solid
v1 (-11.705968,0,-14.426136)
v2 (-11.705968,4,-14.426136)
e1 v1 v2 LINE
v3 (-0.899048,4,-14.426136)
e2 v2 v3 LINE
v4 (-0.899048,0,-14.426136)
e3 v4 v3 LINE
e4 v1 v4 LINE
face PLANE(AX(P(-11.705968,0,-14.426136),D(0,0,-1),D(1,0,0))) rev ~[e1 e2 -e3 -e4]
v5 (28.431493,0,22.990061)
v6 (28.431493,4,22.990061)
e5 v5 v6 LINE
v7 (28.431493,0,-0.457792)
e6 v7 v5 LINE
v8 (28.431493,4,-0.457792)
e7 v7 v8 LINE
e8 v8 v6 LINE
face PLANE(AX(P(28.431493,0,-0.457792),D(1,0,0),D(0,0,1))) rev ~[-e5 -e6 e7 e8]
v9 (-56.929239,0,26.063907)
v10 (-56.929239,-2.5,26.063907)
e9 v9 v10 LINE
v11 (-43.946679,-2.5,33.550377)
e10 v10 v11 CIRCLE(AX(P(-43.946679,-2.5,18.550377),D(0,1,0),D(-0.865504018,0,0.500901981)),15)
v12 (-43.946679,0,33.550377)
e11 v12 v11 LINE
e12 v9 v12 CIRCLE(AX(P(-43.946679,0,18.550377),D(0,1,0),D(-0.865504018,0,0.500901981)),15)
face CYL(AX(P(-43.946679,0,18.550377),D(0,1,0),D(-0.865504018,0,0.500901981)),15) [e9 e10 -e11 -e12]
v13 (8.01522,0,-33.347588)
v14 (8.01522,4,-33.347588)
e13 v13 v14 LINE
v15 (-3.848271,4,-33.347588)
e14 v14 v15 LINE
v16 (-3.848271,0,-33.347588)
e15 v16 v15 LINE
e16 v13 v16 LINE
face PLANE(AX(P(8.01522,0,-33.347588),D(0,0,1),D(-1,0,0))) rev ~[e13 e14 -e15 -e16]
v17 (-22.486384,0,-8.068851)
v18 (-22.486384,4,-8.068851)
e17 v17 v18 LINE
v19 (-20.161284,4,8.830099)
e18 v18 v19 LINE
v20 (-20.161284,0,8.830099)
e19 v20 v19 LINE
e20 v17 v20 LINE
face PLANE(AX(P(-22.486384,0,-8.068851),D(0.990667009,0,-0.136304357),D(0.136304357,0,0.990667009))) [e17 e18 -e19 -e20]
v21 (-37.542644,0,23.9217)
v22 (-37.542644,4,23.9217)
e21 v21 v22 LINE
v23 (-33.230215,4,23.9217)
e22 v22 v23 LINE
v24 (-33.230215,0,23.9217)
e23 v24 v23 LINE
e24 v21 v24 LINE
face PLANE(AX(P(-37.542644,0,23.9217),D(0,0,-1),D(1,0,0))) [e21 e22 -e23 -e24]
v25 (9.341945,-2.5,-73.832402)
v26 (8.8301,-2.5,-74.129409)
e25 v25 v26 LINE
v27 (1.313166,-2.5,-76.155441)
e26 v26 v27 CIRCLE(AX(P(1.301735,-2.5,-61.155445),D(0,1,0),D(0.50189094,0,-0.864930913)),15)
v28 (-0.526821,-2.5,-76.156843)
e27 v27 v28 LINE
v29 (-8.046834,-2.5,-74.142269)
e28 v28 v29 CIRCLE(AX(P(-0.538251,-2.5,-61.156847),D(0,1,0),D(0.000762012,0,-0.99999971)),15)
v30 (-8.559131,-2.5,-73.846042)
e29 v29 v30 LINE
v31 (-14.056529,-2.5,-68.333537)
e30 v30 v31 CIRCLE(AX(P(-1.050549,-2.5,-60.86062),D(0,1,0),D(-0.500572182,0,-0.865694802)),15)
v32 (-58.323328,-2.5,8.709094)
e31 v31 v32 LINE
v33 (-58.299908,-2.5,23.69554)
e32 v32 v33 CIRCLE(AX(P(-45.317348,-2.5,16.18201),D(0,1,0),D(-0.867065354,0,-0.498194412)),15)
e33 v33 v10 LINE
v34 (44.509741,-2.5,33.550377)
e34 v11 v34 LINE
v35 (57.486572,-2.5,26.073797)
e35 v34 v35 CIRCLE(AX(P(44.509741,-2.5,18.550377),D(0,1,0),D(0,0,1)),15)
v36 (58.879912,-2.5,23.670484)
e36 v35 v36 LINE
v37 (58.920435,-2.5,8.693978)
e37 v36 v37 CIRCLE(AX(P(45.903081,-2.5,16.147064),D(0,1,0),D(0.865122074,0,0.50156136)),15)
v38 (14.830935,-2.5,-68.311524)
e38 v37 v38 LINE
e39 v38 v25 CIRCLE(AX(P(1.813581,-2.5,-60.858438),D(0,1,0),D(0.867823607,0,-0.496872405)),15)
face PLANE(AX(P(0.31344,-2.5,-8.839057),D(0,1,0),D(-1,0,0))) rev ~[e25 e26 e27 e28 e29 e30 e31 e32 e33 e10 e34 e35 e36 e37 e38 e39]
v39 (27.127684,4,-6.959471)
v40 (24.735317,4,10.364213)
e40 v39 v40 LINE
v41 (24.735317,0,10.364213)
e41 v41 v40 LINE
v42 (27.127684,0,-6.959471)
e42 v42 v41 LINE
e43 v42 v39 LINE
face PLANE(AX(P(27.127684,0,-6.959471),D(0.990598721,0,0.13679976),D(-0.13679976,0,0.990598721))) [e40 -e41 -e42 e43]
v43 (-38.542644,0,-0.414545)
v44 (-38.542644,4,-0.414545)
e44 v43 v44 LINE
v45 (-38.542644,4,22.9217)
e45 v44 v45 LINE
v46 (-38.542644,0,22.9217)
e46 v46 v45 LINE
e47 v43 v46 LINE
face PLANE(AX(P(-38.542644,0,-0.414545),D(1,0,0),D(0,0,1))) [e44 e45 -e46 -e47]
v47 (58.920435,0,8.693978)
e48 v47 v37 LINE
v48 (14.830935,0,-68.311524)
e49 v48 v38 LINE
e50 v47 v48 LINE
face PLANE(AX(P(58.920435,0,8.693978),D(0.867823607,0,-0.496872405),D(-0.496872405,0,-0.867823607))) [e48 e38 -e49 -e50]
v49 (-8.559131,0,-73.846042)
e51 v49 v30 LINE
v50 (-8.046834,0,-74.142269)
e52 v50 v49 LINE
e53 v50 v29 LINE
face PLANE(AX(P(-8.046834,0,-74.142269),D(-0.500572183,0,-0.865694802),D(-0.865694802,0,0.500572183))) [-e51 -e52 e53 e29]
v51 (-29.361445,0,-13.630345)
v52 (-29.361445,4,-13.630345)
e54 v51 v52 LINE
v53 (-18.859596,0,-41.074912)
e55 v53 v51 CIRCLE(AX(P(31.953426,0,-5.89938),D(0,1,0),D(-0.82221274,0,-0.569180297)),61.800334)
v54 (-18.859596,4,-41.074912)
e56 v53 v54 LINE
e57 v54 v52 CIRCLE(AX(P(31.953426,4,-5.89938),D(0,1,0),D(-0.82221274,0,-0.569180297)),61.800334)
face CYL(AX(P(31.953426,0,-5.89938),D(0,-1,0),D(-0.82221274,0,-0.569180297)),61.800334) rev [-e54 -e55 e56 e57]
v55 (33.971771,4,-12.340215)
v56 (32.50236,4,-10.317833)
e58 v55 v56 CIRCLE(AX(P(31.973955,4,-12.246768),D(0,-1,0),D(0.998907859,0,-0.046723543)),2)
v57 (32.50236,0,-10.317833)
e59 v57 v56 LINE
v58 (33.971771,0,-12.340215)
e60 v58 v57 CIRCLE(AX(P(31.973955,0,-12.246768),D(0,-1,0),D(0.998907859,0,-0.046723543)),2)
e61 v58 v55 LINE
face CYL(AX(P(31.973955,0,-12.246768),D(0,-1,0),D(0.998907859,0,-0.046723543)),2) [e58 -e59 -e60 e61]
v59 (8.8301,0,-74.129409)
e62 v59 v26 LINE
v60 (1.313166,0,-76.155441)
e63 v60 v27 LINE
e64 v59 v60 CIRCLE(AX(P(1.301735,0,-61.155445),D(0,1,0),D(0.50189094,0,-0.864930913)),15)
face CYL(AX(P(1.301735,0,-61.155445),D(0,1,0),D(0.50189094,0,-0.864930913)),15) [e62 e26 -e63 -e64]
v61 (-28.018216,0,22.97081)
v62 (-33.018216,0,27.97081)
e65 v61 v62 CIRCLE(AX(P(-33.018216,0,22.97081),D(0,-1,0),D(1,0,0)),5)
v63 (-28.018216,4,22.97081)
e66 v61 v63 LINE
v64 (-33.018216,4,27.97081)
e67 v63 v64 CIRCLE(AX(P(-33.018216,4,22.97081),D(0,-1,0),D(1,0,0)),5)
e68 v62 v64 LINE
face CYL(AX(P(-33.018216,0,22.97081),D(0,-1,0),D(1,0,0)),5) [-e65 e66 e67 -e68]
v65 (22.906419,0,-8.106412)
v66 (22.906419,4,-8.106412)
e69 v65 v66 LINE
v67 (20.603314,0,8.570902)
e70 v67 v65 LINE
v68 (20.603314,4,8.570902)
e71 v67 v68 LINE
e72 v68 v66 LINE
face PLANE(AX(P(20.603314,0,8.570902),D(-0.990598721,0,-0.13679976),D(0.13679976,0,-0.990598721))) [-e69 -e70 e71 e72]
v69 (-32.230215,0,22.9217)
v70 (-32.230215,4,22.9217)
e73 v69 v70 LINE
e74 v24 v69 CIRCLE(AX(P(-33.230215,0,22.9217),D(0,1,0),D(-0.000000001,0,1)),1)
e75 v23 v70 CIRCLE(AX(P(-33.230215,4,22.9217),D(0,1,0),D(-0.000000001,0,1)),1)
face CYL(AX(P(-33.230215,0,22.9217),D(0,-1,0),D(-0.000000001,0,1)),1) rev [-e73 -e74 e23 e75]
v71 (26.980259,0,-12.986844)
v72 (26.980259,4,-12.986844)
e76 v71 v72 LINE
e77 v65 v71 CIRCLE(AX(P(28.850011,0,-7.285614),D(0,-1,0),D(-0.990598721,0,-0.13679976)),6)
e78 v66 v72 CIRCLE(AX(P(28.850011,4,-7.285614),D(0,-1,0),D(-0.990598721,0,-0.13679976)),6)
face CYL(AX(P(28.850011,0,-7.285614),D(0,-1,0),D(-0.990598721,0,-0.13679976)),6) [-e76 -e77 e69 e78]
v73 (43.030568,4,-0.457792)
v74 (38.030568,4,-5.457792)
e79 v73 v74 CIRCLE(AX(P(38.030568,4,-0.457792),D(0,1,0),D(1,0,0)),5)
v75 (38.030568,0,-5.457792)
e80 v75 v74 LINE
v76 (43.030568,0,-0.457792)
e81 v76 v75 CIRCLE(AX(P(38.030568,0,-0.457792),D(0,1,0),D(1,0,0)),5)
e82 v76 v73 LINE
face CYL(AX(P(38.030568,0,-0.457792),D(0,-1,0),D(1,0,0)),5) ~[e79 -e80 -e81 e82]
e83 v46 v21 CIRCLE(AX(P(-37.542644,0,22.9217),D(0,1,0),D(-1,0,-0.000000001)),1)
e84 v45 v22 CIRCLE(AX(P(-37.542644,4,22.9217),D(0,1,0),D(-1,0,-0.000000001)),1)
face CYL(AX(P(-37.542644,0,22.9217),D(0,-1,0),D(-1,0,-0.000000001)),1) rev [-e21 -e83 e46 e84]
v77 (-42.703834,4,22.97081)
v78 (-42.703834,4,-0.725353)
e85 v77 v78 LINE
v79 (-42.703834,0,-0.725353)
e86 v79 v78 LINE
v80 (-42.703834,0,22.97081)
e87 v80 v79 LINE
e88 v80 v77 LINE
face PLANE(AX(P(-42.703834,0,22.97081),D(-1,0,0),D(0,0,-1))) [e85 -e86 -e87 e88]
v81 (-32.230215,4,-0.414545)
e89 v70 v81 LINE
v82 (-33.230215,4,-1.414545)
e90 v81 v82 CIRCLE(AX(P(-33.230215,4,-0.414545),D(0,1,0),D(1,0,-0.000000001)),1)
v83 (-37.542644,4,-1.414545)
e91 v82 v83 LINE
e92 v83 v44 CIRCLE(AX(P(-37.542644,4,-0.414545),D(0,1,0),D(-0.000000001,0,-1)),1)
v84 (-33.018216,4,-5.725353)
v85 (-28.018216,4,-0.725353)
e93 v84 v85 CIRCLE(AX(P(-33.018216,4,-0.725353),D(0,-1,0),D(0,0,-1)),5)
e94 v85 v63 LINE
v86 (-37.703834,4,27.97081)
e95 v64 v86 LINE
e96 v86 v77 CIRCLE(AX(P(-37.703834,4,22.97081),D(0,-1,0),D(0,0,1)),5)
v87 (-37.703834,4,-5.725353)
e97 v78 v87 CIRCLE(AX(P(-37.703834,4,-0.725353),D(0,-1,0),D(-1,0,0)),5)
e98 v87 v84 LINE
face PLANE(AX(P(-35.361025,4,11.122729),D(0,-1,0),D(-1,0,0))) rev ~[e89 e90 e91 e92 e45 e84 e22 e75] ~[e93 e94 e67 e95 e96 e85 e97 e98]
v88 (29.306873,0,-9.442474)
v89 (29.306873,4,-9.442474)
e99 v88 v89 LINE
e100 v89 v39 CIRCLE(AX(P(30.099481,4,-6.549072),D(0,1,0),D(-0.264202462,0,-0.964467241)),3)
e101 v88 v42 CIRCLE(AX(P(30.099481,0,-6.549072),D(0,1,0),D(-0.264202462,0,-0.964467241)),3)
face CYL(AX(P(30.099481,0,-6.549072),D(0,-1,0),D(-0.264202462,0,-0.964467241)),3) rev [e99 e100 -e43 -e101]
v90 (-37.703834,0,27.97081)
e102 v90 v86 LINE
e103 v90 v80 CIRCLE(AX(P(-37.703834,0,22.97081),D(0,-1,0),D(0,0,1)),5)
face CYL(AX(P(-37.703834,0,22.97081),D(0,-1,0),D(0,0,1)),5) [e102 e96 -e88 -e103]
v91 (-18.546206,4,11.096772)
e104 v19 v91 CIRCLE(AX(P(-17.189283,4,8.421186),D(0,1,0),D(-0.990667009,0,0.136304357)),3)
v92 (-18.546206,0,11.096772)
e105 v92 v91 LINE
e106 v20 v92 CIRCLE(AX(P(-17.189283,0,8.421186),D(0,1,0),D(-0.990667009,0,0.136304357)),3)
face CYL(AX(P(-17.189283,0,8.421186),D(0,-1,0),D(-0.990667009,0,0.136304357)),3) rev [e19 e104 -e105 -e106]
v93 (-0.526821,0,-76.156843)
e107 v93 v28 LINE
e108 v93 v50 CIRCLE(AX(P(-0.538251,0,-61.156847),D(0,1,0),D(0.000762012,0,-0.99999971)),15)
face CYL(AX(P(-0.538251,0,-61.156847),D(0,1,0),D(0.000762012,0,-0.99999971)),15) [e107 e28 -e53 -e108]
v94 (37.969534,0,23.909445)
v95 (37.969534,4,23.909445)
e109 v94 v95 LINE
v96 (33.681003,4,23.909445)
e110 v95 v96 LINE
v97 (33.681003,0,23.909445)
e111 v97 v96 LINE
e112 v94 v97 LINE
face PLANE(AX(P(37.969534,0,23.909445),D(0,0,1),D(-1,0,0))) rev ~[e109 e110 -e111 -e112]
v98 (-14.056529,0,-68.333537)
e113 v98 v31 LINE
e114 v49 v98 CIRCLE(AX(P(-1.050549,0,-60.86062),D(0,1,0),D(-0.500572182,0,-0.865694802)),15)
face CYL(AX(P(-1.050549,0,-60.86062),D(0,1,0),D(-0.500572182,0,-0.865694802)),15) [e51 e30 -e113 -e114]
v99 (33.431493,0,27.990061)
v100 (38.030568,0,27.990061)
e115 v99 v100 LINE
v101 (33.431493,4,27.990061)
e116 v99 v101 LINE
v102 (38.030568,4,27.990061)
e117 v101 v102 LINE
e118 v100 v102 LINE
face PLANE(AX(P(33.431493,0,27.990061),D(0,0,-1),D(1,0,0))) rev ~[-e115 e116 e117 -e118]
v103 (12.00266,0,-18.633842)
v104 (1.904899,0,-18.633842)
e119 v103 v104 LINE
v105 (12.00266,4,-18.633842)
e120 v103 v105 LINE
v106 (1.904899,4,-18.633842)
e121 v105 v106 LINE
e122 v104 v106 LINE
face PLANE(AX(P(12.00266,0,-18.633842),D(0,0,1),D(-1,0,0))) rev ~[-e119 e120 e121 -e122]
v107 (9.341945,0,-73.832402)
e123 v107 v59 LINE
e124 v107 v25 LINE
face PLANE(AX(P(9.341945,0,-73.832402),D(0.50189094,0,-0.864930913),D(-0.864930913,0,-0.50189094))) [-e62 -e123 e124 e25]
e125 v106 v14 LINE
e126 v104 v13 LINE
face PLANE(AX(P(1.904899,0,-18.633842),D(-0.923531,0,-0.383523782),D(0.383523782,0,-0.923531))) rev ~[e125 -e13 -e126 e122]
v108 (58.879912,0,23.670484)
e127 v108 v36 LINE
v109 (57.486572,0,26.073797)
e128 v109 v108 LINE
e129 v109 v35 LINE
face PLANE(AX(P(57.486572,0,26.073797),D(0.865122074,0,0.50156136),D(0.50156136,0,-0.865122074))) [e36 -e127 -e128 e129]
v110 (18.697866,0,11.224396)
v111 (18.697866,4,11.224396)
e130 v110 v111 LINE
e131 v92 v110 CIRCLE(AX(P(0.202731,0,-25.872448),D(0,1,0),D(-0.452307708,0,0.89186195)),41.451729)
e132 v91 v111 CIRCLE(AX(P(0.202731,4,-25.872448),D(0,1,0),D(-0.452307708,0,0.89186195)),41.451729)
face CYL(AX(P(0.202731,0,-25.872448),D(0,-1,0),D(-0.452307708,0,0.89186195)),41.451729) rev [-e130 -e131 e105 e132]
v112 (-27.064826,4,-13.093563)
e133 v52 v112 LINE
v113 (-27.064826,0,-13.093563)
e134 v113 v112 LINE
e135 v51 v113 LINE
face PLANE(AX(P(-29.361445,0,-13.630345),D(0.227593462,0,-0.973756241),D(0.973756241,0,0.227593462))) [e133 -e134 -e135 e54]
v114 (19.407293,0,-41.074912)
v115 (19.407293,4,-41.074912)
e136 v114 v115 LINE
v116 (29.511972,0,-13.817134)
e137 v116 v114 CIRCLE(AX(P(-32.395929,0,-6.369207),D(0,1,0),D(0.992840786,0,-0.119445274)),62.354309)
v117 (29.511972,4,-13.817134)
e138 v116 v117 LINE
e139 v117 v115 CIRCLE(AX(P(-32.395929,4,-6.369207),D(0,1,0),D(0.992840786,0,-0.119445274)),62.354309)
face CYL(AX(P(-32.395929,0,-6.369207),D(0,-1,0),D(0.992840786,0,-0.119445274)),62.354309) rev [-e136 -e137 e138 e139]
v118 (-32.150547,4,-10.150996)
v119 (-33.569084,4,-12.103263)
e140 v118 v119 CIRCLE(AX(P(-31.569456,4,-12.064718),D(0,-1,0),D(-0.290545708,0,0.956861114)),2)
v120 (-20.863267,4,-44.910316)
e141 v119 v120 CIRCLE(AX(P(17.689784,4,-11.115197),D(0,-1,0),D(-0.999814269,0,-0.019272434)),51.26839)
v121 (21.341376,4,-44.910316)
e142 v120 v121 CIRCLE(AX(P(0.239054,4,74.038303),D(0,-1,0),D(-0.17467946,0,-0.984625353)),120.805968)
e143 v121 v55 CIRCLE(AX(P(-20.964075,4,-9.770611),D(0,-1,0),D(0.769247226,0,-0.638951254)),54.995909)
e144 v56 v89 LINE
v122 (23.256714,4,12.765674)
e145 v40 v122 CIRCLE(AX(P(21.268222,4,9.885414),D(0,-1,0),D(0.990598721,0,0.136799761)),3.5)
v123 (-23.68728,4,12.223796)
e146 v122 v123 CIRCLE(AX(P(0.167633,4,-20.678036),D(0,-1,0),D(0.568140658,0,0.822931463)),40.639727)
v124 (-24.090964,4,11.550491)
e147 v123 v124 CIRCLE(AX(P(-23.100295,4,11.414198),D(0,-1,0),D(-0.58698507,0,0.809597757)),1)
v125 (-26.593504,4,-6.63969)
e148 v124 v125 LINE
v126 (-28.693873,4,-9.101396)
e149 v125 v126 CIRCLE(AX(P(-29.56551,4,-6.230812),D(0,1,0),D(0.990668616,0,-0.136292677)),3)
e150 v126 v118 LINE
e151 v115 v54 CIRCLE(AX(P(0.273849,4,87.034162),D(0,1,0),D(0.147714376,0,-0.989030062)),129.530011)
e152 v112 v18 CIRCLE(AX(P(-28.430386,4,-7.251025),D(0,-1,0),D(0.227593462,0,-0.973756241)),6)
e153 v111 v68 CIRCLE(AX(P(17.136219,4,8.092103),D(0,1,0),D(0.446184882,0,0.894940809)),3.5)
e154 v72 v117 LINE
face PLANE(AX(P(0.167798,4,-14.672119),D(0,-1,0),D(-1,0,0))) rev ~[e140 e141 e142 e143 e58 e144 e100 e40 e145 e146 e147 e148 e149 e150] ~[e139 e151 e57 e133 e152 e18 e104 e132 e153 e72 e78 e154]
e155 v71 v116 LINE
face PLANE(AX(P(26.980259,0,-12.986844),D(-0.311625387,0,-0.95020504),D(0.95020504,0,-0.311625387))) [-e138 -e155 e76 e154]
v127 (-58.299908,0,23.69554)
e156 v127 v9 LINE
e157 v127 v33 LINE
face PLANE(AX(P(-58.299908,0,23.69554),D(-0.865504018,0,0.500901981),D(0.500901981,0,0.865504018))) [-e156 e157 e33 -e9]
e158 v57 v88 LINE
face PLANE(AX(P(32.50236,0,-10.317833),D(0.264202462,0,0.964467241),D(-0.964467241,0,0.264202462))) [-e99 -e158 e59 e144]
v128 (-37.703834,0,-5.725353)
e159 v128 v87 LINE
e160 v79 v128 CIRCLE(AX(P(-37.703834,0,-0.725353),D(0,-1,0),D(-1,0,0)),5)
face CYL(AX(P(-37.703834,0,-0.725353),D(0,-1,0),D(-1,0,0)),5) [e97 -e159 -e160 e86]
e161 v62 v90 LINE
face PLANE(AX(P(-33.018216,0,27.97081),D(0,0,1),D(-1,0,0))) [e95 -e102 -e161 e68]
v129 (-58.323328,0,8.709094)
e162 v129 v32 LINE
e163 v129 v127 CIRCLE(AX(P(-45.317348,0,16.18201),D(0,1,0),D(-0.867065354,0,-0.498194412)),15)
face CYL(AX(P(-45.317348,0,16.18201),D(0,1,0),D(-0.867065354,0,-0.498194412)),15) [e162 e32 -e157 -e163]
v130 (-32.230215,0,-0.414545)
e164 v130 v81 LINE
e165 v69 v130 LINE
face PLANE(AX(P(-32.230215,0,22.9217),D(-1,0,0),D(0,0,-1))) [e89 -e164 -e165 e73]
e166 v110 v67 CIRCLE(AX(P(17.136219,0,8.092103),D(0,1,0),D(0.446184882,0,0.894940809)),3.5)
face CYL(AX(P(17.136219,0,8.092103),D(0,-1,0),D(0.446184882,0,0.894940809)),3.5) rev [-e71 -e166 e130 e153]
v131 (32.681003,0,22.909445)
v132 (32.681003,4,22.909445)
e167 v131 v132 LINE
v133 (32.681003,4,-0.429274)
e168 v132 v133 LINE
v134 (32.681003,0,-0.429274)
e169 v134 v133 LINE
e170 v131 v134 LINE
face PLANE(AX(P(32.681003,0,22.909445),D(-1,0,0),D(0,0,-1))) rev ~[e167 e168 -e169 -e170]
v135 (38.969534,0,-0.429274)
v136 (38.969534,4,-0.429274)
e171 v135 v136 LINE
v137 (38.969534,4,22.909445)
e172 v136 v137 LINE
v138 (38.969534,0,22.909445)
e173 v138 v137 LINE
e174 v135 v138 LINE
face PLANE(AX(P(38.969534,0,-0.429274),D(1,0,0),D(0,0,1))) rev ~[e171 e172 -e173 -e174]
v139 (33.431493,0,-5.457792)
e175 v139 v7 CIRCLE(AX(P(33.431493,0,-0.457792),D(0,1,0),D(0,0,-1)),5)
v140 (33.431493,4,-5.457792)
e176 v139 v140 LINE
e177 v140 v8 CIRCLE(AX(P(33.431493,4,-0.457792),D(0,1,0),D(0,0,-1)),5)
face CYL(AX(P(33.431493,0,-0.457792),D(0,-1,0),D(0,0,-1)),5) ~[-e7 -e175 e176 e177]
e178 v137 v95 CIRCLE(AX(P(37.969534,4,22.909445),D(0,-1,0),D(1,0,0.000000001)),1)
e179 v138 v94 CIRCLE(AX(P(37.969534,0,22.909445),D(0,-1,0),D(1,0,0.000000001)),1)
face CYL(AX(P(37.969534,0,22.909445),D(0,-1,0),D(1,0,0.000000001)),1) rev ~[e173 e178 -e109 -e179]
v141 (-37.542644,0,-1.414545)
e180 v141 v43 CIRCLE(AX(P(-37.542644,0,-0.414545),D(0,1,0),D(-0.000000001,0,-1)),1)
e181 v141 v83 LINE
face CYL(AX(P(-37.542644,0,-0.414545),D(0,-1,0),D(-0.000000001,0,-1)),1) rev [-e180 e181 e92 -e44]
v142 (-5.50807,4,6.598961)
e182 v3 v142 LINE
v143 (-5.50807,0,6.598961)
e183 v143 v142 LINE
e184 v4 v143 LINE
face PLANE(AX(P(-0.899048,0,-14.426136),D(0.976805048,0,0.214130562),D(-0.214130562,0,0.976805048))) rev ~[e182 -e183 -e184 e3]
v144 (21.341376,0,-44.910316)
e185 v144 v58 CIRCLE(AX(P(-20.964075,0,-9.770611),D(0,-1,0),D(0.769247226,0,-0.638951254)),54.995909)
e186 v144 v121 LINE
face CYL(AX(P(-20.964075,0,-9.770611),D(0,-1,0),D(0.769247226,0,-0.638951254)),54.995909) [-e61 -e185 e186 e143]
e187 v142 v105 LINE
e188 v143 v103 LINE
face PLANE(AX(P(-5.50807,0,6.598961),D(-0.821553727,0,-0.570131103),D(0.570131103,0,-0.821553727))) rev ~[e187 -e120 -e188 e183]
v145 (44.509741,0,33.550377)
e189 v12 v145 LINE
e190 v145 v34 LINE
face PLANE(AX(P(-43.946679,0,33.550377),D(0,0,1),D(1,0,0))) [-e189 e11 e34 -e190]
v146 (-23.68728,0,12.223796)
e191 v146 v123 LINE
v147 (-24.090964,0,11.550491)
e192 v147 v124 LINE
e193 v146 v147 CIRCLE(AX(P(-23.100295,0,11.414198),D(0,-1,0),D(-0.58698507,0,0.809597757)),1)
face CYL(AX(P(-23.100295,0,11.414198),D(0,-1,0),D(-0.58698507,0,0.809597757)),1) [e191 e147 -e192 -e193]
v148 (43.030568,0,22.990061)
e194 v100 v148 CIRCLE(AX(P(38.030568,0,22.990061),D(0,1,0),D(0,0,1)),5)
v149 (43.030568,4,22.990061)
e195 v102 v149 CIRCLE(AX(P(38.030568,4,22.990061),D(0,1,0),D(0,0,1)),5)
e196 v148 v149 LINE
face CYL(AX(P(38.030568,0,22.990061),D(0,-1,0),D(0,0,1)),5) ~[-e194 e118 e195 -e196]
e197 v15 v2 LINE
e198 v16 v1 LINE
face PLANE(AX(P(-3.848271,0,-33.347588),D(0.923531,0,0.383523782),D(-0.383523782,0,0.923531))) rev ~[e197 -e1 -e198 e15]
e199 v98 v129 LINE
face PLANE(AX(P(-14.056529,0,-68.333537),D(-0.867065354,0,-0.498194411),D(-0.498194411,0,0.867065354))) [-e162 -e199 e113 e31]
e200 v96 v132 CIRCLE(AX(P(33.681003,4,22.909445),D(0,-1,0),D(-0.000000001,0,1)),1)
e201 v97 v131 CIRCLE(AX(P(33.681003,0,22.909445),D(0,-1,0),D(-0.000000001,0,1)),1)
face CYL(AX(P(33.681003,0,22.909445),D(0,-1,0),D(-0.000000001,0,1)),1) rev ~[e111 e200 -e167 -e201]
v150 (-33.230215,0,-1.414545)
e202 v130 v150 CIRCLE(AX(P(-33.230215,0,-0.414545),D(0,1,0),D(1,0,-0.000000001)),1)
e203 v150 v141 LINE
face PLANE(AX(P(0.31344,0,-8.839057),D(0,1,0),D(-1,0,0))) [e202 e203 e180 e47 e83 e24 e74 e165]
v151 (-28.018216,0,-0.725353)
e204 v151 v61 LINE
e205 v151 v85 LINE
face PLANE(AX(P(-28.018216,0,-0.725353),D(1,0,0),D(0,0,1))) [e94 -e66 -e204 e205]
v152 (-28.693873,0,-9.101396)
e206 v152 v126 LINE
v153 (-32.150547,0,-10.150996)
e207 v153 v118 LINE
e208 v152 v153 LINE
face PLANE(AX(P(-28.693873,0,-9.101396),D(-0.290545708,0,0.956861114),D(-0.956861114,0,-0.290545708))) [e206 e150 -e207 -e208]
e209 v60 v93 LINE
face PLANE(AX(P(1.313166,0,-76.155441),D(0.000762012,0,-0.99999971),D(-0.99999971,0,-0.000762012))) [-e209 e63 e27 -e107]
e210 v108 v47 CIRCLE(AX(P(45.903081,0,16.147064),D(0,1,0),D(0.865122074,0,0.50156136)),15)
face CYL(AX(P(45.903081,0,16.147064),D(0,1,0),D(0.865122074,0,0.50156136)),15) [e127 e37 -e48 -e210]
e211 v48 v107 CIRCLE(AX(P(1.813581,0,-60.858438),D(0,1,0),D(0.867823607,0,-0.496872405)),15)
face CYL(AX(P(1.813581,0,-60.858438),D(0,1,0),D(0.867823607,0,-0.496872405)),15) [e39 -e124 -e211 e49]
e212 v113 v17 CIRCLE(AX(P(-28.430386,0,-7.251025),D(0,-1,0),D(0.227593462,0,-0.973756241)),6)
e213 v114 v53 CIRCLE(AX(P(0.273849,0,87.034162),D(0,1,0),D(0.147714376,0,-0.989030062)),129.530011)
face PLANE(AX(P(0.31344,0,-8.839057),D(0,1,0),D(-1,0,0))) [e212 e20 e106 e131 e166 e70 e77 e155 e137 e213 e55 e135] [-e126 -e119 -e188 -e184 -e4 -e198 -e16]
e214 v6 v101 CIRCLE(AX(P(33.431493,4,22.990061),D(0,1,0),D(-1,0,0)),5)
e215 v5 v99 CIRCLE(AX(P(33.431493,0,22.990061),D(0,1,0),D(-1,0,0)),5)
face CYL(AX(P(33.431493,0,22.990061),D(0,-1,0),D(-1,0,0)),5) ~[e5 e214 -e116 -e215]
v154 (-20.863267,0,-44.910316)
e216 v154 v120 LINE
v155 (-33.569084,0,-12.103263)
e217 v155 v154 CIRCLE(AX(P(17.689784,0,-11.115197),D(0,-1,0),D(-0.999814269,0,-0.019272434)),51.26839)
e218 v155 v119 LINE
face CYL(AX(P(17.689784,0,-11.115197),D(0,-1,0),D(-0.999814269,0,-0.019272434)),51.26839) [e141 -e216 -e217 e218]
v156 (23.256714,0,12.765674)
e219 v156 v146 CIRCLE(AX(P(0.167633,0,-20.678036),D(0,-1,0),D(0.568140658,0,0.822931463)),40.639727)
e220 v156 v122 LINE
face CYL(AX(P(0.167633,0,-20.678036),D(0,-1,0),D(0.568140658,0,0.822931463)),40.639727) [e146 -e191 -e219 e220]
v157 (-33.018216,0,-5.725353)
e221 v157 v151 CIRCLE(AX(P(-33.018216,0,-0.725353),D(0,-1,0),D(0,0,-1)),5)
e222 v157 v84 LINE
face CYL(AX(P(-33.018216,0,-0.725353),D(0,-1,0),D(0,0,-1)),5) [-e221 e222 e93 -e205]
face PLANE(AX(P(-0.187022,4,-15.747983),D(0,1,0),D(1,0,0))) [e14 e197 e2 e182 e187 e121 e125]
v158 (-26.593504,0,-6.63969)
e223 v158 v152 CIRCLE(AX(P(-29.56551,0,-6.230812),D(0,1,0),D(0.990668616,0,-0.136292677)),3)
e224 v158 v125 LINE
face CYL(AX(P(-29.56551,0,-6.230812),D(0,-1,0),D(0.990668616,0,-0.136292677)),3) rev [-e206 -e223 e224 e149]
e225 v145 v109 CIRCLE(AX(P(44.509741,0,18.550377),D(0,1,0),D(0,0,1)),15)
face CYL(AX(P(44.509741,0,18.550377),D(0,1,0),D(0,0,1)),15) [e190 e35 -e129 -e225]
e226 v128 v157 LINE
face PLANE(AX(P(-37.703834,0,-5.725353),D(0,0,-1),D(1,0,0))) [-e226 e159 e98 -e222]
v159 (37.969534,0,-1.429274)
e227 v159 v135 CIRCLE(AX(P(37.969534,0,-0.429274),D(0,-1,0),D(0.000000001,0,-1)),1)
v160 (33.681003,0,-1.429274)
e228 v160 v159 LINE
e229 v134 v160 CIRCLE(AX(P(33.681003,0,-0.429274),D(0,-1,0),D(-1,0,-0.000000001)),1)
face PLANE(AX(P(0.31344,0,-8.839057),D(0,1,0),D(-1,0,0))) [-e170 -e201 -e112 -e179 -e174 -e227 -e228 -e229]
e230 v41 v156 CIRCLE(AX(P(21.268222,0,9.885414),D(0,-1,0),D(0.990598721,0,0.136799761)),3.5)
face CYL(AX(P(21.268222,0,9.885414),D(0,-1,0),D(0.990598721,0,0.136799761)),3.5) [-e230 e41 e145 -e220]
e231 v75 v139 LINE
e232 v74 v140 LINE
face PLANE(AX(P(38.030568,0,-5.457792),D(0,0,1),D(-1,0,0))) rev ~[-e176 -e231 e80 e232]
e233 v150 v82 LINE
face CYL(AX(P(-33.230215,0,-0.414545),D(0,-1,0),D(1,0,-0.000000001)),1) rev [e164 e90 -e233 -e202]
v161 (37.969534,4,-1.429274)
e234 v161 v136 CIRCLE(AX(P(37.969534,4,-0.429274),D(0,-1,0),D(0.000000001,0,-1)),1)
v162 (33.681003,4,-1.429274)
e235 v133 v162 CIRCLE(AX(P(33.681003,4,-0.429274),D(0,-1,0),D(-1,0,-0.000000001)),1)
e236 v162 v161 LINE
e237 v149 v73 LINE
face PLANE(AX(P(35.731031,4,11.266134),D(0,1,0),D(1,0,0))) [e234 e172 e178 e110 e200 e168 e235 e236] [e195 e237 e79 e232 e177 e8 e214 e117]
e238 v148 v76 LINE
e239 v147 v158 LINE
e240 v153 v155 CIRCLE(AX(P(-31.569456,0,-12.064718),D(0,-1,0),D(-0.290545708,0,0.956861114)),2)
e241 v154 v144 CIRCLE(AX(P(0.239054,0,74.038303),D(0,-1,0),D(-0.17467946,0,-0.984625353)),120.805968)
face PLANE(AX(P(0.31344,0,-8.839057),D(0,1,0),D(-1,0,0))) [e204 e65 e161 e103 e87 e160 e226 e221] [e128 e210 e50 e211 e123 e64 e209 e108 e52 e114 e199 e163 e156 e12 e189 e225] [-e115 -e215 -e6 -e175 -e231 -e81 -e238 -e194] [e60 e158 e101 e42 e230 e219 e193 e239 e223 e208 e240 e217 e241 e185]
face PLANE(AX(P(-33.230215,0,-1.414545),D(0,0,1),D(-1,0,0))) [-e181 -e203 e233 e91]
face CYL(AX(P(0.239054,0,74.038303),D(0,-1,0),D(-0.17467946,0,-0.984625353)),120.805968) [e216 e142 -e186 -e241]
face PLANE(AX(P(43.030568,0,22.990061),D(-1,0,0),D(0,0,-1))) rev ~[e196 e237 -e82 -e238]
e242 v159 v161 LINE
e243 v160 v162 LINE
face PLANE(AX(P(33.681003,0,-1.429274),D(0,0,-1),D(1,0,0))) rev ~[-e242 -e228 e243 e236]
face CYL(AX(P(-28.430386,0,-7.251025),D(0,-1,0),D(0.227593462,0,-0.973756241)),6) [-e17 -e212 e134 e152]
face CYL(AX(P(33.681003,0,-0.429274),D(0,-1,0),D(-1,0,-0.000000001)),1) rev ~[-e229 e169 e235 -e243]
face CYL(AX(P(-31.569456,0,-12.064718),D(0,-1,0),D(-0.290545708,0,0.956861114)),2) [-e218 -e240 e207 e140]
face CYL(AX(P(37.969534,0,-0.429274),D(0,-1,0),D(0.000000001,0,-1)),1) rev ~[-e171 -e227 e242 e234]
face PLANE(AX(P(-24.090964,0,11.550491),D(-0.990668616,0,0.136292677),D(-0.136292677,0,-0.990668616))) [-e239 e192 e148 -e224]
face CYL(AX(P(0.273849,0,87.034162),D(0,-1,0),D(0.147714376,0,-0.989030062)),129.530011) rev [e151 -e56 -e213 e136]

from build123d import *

# Parameters (mm, degrees)
SALIENTE_EXTRUIR1_DEPTH   = 4
SALIENTE_EXTRUIR1_2_DEPTH = 4
SALIENTE_EXTRUIR1_3_DEPTH = 4
SALIENTE_EXTRUIR1_4_DEPTH = 4
SALIENTE_EXTRUIR4_DEPTH   = 2.5


with BuildPart() as part:
    # Croquis1 → Saliente-Extruir1 (new body)
    with BuildSketch(Plane(origin=(0, 0, 0), x_dir=(1, 0, 0), z_dir=(0, 1, 0))):
        with BuildLine():
            ThreePointArc((24.735317162, -10.364213377), (24.248592978, -11.720458271), (23.256713943, -12.765674337))
            ThreePointArc((23.256713943, -12.765674337), (-0.301443486, -19.95898411), (-23.6872801, -12.223796151))
            ThreePointArc((-23.6872801, -12.223796151), (-23.957956222, -11.928413602), (-24.090963646, -11.550491071))
            Line((-24.090963646, -11.550491071), (-26.593504351, 6.639690423))
            ThreePointArc((-26.593504351, 6.639690423), (-27.283319128, 8.17801652), (-28.693873074, 9.101395733))
            Line((-28.693873074, 9.101395733), (-32.150547194, 10.150996156))
            ThreePointArc((-32.150547194, 10.150996156), (-33.187437723, 10.889076251), (-33.569084317, 12.103263251))
            ThreePointArc((-33.569084317, 12.103263251), (-30.118383627, 29.630783624), (-20.863266874, 44.910316325))
            ThreePointArc((-20.863266874, 44.910316325), (0.239054347, 46.767665402), (21.341375569, 44.910316325))
            ThreePointArc((21.341375569, 44.910316325), (30.311360731, 29.654768569), (33.971770868, 12.340214899))
            ThreePointArc((33.971770868, 12.340214899), (33.591964571, 11.071163494), (32.502360075, 10.317833331))
            Line((32.502360075, 10.317833331), (29.306873174, 9.442473887))
            ThreePointArc((29.306873174, 9.442473887), (27.844705893, 8.527958517), (27.127684399, 6.959471444))
            Line((27.127684399, 6.959471444), (24.735317162, -10.364213377))
        make_face()
        with BuildLine():
            Line((20.603314318, -8.570902391), (22.906419095, 8.106412307))
            ThreePointArc((22.906419095, 8.106412307), (24.243847943, 11.130514009), (26.980259101, 12.986843989))
            Line((26.980259101, 12.986843989), (29.51197218, 13.81713433))
            ThreePointArc((29.51197218, 13.81713433), (26.070313597, 28.043115781), (19.407293404, 41.074912432))
            ThreePointArc((19.407293404, 41.074912432), (0.273848763, 42.495848638), (-18.859595878, 41.074912432))
            ThreePointArc((-18.859595878, 41.074912432), (-25.76543723, 27.985894011), (-29.361445326, 13.630345475))
            Line((-29.361445326, 13.630345475), (-27.064825612, 13.093562644))
            ThreePointArc((-27.064825612, 13.093562644), (-23.995371379, 11.292144095), (-22.48638433, 8.068851342))
            Line((-22.48638433, 8.068851342), (-20.161283591, -8.830099253))
            ThreePointArc((-20.161283591, -8.830099253), (-19.632507369, -10.162063132), (-18.546205688, -11.096772031))
            ThreePointArc((-18.546205688, -11.096772031), (0.060689408, -15.579037847), (18.697865881, -11.224396063))
            ThreePointArc((18.697865881, -11.224396063), (19.979160972, -10.133592829), (20.603314318, -8.570902391))
        make_face(mode=Mode.SUBTRACT)
    extrude(amount=SALIENTE_EXTRUIR1_DEPTH)



with BuildPart() as body_2:
    # Croquis1 → Saliente-Extruir1 2 (new body)
    with BuildSketch(Plane(origin=(0, 0, 0), x_dir=(1, 0, 0), z_dir=(0, 1, 0))):
        Polygon((-11.705967947, 14.426136366), (-0.899048263, 14.426136366), (-5.508070268, -6.59896119), (12.002660496, 18.633842358), (1.904898556, 18.633842358), (8.015220238, 33.347588292), (-3.8482709, 33.347588292), align=None)
    extrude(amount=SALIENTE_EXTRUIR1_2_DEPTH)


with BuildPart() as body_3:
    # Croquis1 → Saliente-Extruir1 3 (new body)
    with BuildSketch(Plane(origin=(0, 0, 0), x_dir=(1, 0, 0), z_dir=(0, 1, 0))):
        with BuildLine():
            Line((-33.018215507, -27.970809887), (-37.703834023, -27.970809887))
            ThreePointArc((-37.703834023, -27.970809887), (-41.239367929, -26.506343793), (-42.703834023, -22.970809887))
            Line((-42.703834023, -22.970809887), (-42.703834023, 0.725352507))
            ThreePointArc((-42.703834023, 0.725352507), (-41.239367929, 4.260886413), (-37.703834023, 5.725352507))
            Line((-37.703834023, 5.725352507), (-33.018215507, 5.725352507))
            ThreePointArc((-33.018215507, 5.725352507), (-29.482681601, 4.260886413), (-28.018215507, 0.725352507))
            Line((-28.018215507, 0.725352507), (-28.018215507, -22.970809887))
            ThreePointArc((-28.018215507, -22.970809887), (-29.482681601, -26.506343793), (-33.018215507, -27.970809887))
        make_face()
        with BuildLine():
            ThreePointArc((-33.230214616, -23.921699906), (-32.523107835, -23.628806688), (-32.230214616, -22.921699906))
            Line((-32.230214616, -22.921699906), (-32.230214616, 0.414545051))
            ThreePointArc((-32.230214616, 0.414545051), (-32.523107835, 1.121651832), (-33.230214616, 1.414545051))
            Line((-33.230214616, 1.414545051), (-37.542643739, 1.414545051))
            ThreePointArc((-37.542643739, 1.414545051), (-38.24975052, 1.121651832), (-38.542643739, 0.414545051))
            Line((-38.542643739, 0.414545051), (-38.542643739, -22.921699906))
            ThreePointArc((-38.542643739, -22.921699906), (-38.24975052, -23.628806688), (-37.542643739, -23.921699906))
            Line((-37.542643739, -23.921699906), (-33.230214616, -23.921699906))
        make_face(mode=Mode.SUBTRACT)
    extrude(amount=SALIENTE_EXTRUIR1_3_DEPTH)


with BuildPart() as body_4:
    # Croquis1 → Saliente-Extruir1 4 (new body)
    with BuildSketch(Plane(origin=(0, 0, 0), x_dir=(1, 0, 0), z_dir=(0, 1, 0))):
        with BuildLine():
            Line((43.03056828, -22.990060864), (43.03056828, 0.457791938))
            ThreePointArc((43.03056828, 0.457791938), (41.566102186, 3.993325844), (38.03056828, 5.457791938))
            Line((38.03056828, 5.457791938), (33.431492806, 5.457791938))
            ThreePointArc((33.431492806, 5.457791938), (29.8959589, 3.993325844), (28.431492806, 0.457791938))
            Line((28.431492806, 0.457791938), (28.431492806, -22.990060864))
            ThreePointArc((28.431492806, -22.990060864), (29.8959589, -26.52559477), (33.431492806, -27.990060864))
            Line((33.431492806, -27.990060864), (38.03056828, -27.990060864))
            ThreePointArc((38.03056828, -27.990060864), (41.566102186, -26.52559477), (43.03056828, -22.990060864))
        make_face()
        with BuildLine():
            Line((32.681003043, -22.909445085), (32.681003043, 0.429273953))
            ThreePointArc((32.681003043, 0.429273953), (32.973896262, 1.136380734), (33.681003043, 1.429273953))
            Line((33.681003043, 1.429273953), (37.969534376, 1.429273953))
            ThreePointArc((37.969534376, 1.429273953), (38.676641157, 1.136380734), (38.969534376, 0.429273953))
            Line((38.969534376, 0.429273953), (38.969534376, -22.909445085))
            ThreePointArc((38.969534376, -22.909445085), (38.676641157, -23.616551866), (37.969534376, -23.909445085))
            Line((37.969534376, -23.909445085), (33.681003043, -23.909445085))
            ThreePointArc((33.681003043, -23.909445085), (32.973896262, -23.616551866), (32.681003043, -22.909445085))
        make_face(mode=Mode.SUBTRACT)
    extrude(amount=SALIENTE_EXTRUIR1_4_DEPTH)


with BuildPart() as part_1:
    add(part.part)

    add(body_2.part)  # Saliente-Extruir4 merges body 2

    add(body_3.part)  # Saliente-Extruir4 merges body 3

    add(body_4.part)  # Saliente-Extruir4 merges body 4
    # Croquis4 → Saliente-Extruir4 (add)
    with BuildSketch(Plane.XZ):
        with BuildLine():
            Line((-43.946678981, 33.550376808), (44.509741085, 33.550376808))
            ThreePointArc((44.509741085, 33.550376808), (51.998021732, 31.547516992), (57.486572192, 26.073797202))
            Line((57.486572192, 26.073797202), (58.879911857, 23.670484273))
            ThreePointArc((58.879911857, 23.670484273), (60.903025841, 16.187650298), (58.920434856, 8.693977802))
            Line((58.920434856, 8.693977802), (14.830934948, -68.31152391))
            ThreePointArc((14.830934948, -68.31152391), (12.450857587, -71.434275551), (9.341944939, -73.83240153))
            Line((9.341944939, -73.83240153), (8.830099524, -74.129408577))
            ThreePointArc((8.830099524, -74.129408577), (5.205365249, -75.63859627), (1.313165605, -76.155440525))
            Line((1.313165605, -76.155440525), (-0.526820951, -76.156842617))
            ThreePointArc((-0.526820951, -76.156842617), (-4.419803759, -75.645930765), (-8.046833861, -74.142269004))
            Line((-8.046833861, -74.142269004), (-8.559131327, -73.846042366))
            ThreePointArc((-8.559131327, -73.846042366), (-11.671695164, -71.452657228), (-14.056528907, -68.333536506))
            Line((-14.056528907, -68.333536506), (-58.32332823, 8.709094133))
            ThreePointArc((-58.32332823, 8.709094133), (-60.317329602, 16.205451495), (-58.299908193, 23.695540015))
            Line((-58.299908193, 23.695540015), (-56.929239256, 26.063906519))
            ThreePointArc((-56.929239256, 26.063906519), (-51.439911073, 31.544662969), (-43.946678981, 33.550376808))
        make_face()
    extrude(amount=SALIENTE_EXTRUIR4_DEPTH)


solid = part_1.part
